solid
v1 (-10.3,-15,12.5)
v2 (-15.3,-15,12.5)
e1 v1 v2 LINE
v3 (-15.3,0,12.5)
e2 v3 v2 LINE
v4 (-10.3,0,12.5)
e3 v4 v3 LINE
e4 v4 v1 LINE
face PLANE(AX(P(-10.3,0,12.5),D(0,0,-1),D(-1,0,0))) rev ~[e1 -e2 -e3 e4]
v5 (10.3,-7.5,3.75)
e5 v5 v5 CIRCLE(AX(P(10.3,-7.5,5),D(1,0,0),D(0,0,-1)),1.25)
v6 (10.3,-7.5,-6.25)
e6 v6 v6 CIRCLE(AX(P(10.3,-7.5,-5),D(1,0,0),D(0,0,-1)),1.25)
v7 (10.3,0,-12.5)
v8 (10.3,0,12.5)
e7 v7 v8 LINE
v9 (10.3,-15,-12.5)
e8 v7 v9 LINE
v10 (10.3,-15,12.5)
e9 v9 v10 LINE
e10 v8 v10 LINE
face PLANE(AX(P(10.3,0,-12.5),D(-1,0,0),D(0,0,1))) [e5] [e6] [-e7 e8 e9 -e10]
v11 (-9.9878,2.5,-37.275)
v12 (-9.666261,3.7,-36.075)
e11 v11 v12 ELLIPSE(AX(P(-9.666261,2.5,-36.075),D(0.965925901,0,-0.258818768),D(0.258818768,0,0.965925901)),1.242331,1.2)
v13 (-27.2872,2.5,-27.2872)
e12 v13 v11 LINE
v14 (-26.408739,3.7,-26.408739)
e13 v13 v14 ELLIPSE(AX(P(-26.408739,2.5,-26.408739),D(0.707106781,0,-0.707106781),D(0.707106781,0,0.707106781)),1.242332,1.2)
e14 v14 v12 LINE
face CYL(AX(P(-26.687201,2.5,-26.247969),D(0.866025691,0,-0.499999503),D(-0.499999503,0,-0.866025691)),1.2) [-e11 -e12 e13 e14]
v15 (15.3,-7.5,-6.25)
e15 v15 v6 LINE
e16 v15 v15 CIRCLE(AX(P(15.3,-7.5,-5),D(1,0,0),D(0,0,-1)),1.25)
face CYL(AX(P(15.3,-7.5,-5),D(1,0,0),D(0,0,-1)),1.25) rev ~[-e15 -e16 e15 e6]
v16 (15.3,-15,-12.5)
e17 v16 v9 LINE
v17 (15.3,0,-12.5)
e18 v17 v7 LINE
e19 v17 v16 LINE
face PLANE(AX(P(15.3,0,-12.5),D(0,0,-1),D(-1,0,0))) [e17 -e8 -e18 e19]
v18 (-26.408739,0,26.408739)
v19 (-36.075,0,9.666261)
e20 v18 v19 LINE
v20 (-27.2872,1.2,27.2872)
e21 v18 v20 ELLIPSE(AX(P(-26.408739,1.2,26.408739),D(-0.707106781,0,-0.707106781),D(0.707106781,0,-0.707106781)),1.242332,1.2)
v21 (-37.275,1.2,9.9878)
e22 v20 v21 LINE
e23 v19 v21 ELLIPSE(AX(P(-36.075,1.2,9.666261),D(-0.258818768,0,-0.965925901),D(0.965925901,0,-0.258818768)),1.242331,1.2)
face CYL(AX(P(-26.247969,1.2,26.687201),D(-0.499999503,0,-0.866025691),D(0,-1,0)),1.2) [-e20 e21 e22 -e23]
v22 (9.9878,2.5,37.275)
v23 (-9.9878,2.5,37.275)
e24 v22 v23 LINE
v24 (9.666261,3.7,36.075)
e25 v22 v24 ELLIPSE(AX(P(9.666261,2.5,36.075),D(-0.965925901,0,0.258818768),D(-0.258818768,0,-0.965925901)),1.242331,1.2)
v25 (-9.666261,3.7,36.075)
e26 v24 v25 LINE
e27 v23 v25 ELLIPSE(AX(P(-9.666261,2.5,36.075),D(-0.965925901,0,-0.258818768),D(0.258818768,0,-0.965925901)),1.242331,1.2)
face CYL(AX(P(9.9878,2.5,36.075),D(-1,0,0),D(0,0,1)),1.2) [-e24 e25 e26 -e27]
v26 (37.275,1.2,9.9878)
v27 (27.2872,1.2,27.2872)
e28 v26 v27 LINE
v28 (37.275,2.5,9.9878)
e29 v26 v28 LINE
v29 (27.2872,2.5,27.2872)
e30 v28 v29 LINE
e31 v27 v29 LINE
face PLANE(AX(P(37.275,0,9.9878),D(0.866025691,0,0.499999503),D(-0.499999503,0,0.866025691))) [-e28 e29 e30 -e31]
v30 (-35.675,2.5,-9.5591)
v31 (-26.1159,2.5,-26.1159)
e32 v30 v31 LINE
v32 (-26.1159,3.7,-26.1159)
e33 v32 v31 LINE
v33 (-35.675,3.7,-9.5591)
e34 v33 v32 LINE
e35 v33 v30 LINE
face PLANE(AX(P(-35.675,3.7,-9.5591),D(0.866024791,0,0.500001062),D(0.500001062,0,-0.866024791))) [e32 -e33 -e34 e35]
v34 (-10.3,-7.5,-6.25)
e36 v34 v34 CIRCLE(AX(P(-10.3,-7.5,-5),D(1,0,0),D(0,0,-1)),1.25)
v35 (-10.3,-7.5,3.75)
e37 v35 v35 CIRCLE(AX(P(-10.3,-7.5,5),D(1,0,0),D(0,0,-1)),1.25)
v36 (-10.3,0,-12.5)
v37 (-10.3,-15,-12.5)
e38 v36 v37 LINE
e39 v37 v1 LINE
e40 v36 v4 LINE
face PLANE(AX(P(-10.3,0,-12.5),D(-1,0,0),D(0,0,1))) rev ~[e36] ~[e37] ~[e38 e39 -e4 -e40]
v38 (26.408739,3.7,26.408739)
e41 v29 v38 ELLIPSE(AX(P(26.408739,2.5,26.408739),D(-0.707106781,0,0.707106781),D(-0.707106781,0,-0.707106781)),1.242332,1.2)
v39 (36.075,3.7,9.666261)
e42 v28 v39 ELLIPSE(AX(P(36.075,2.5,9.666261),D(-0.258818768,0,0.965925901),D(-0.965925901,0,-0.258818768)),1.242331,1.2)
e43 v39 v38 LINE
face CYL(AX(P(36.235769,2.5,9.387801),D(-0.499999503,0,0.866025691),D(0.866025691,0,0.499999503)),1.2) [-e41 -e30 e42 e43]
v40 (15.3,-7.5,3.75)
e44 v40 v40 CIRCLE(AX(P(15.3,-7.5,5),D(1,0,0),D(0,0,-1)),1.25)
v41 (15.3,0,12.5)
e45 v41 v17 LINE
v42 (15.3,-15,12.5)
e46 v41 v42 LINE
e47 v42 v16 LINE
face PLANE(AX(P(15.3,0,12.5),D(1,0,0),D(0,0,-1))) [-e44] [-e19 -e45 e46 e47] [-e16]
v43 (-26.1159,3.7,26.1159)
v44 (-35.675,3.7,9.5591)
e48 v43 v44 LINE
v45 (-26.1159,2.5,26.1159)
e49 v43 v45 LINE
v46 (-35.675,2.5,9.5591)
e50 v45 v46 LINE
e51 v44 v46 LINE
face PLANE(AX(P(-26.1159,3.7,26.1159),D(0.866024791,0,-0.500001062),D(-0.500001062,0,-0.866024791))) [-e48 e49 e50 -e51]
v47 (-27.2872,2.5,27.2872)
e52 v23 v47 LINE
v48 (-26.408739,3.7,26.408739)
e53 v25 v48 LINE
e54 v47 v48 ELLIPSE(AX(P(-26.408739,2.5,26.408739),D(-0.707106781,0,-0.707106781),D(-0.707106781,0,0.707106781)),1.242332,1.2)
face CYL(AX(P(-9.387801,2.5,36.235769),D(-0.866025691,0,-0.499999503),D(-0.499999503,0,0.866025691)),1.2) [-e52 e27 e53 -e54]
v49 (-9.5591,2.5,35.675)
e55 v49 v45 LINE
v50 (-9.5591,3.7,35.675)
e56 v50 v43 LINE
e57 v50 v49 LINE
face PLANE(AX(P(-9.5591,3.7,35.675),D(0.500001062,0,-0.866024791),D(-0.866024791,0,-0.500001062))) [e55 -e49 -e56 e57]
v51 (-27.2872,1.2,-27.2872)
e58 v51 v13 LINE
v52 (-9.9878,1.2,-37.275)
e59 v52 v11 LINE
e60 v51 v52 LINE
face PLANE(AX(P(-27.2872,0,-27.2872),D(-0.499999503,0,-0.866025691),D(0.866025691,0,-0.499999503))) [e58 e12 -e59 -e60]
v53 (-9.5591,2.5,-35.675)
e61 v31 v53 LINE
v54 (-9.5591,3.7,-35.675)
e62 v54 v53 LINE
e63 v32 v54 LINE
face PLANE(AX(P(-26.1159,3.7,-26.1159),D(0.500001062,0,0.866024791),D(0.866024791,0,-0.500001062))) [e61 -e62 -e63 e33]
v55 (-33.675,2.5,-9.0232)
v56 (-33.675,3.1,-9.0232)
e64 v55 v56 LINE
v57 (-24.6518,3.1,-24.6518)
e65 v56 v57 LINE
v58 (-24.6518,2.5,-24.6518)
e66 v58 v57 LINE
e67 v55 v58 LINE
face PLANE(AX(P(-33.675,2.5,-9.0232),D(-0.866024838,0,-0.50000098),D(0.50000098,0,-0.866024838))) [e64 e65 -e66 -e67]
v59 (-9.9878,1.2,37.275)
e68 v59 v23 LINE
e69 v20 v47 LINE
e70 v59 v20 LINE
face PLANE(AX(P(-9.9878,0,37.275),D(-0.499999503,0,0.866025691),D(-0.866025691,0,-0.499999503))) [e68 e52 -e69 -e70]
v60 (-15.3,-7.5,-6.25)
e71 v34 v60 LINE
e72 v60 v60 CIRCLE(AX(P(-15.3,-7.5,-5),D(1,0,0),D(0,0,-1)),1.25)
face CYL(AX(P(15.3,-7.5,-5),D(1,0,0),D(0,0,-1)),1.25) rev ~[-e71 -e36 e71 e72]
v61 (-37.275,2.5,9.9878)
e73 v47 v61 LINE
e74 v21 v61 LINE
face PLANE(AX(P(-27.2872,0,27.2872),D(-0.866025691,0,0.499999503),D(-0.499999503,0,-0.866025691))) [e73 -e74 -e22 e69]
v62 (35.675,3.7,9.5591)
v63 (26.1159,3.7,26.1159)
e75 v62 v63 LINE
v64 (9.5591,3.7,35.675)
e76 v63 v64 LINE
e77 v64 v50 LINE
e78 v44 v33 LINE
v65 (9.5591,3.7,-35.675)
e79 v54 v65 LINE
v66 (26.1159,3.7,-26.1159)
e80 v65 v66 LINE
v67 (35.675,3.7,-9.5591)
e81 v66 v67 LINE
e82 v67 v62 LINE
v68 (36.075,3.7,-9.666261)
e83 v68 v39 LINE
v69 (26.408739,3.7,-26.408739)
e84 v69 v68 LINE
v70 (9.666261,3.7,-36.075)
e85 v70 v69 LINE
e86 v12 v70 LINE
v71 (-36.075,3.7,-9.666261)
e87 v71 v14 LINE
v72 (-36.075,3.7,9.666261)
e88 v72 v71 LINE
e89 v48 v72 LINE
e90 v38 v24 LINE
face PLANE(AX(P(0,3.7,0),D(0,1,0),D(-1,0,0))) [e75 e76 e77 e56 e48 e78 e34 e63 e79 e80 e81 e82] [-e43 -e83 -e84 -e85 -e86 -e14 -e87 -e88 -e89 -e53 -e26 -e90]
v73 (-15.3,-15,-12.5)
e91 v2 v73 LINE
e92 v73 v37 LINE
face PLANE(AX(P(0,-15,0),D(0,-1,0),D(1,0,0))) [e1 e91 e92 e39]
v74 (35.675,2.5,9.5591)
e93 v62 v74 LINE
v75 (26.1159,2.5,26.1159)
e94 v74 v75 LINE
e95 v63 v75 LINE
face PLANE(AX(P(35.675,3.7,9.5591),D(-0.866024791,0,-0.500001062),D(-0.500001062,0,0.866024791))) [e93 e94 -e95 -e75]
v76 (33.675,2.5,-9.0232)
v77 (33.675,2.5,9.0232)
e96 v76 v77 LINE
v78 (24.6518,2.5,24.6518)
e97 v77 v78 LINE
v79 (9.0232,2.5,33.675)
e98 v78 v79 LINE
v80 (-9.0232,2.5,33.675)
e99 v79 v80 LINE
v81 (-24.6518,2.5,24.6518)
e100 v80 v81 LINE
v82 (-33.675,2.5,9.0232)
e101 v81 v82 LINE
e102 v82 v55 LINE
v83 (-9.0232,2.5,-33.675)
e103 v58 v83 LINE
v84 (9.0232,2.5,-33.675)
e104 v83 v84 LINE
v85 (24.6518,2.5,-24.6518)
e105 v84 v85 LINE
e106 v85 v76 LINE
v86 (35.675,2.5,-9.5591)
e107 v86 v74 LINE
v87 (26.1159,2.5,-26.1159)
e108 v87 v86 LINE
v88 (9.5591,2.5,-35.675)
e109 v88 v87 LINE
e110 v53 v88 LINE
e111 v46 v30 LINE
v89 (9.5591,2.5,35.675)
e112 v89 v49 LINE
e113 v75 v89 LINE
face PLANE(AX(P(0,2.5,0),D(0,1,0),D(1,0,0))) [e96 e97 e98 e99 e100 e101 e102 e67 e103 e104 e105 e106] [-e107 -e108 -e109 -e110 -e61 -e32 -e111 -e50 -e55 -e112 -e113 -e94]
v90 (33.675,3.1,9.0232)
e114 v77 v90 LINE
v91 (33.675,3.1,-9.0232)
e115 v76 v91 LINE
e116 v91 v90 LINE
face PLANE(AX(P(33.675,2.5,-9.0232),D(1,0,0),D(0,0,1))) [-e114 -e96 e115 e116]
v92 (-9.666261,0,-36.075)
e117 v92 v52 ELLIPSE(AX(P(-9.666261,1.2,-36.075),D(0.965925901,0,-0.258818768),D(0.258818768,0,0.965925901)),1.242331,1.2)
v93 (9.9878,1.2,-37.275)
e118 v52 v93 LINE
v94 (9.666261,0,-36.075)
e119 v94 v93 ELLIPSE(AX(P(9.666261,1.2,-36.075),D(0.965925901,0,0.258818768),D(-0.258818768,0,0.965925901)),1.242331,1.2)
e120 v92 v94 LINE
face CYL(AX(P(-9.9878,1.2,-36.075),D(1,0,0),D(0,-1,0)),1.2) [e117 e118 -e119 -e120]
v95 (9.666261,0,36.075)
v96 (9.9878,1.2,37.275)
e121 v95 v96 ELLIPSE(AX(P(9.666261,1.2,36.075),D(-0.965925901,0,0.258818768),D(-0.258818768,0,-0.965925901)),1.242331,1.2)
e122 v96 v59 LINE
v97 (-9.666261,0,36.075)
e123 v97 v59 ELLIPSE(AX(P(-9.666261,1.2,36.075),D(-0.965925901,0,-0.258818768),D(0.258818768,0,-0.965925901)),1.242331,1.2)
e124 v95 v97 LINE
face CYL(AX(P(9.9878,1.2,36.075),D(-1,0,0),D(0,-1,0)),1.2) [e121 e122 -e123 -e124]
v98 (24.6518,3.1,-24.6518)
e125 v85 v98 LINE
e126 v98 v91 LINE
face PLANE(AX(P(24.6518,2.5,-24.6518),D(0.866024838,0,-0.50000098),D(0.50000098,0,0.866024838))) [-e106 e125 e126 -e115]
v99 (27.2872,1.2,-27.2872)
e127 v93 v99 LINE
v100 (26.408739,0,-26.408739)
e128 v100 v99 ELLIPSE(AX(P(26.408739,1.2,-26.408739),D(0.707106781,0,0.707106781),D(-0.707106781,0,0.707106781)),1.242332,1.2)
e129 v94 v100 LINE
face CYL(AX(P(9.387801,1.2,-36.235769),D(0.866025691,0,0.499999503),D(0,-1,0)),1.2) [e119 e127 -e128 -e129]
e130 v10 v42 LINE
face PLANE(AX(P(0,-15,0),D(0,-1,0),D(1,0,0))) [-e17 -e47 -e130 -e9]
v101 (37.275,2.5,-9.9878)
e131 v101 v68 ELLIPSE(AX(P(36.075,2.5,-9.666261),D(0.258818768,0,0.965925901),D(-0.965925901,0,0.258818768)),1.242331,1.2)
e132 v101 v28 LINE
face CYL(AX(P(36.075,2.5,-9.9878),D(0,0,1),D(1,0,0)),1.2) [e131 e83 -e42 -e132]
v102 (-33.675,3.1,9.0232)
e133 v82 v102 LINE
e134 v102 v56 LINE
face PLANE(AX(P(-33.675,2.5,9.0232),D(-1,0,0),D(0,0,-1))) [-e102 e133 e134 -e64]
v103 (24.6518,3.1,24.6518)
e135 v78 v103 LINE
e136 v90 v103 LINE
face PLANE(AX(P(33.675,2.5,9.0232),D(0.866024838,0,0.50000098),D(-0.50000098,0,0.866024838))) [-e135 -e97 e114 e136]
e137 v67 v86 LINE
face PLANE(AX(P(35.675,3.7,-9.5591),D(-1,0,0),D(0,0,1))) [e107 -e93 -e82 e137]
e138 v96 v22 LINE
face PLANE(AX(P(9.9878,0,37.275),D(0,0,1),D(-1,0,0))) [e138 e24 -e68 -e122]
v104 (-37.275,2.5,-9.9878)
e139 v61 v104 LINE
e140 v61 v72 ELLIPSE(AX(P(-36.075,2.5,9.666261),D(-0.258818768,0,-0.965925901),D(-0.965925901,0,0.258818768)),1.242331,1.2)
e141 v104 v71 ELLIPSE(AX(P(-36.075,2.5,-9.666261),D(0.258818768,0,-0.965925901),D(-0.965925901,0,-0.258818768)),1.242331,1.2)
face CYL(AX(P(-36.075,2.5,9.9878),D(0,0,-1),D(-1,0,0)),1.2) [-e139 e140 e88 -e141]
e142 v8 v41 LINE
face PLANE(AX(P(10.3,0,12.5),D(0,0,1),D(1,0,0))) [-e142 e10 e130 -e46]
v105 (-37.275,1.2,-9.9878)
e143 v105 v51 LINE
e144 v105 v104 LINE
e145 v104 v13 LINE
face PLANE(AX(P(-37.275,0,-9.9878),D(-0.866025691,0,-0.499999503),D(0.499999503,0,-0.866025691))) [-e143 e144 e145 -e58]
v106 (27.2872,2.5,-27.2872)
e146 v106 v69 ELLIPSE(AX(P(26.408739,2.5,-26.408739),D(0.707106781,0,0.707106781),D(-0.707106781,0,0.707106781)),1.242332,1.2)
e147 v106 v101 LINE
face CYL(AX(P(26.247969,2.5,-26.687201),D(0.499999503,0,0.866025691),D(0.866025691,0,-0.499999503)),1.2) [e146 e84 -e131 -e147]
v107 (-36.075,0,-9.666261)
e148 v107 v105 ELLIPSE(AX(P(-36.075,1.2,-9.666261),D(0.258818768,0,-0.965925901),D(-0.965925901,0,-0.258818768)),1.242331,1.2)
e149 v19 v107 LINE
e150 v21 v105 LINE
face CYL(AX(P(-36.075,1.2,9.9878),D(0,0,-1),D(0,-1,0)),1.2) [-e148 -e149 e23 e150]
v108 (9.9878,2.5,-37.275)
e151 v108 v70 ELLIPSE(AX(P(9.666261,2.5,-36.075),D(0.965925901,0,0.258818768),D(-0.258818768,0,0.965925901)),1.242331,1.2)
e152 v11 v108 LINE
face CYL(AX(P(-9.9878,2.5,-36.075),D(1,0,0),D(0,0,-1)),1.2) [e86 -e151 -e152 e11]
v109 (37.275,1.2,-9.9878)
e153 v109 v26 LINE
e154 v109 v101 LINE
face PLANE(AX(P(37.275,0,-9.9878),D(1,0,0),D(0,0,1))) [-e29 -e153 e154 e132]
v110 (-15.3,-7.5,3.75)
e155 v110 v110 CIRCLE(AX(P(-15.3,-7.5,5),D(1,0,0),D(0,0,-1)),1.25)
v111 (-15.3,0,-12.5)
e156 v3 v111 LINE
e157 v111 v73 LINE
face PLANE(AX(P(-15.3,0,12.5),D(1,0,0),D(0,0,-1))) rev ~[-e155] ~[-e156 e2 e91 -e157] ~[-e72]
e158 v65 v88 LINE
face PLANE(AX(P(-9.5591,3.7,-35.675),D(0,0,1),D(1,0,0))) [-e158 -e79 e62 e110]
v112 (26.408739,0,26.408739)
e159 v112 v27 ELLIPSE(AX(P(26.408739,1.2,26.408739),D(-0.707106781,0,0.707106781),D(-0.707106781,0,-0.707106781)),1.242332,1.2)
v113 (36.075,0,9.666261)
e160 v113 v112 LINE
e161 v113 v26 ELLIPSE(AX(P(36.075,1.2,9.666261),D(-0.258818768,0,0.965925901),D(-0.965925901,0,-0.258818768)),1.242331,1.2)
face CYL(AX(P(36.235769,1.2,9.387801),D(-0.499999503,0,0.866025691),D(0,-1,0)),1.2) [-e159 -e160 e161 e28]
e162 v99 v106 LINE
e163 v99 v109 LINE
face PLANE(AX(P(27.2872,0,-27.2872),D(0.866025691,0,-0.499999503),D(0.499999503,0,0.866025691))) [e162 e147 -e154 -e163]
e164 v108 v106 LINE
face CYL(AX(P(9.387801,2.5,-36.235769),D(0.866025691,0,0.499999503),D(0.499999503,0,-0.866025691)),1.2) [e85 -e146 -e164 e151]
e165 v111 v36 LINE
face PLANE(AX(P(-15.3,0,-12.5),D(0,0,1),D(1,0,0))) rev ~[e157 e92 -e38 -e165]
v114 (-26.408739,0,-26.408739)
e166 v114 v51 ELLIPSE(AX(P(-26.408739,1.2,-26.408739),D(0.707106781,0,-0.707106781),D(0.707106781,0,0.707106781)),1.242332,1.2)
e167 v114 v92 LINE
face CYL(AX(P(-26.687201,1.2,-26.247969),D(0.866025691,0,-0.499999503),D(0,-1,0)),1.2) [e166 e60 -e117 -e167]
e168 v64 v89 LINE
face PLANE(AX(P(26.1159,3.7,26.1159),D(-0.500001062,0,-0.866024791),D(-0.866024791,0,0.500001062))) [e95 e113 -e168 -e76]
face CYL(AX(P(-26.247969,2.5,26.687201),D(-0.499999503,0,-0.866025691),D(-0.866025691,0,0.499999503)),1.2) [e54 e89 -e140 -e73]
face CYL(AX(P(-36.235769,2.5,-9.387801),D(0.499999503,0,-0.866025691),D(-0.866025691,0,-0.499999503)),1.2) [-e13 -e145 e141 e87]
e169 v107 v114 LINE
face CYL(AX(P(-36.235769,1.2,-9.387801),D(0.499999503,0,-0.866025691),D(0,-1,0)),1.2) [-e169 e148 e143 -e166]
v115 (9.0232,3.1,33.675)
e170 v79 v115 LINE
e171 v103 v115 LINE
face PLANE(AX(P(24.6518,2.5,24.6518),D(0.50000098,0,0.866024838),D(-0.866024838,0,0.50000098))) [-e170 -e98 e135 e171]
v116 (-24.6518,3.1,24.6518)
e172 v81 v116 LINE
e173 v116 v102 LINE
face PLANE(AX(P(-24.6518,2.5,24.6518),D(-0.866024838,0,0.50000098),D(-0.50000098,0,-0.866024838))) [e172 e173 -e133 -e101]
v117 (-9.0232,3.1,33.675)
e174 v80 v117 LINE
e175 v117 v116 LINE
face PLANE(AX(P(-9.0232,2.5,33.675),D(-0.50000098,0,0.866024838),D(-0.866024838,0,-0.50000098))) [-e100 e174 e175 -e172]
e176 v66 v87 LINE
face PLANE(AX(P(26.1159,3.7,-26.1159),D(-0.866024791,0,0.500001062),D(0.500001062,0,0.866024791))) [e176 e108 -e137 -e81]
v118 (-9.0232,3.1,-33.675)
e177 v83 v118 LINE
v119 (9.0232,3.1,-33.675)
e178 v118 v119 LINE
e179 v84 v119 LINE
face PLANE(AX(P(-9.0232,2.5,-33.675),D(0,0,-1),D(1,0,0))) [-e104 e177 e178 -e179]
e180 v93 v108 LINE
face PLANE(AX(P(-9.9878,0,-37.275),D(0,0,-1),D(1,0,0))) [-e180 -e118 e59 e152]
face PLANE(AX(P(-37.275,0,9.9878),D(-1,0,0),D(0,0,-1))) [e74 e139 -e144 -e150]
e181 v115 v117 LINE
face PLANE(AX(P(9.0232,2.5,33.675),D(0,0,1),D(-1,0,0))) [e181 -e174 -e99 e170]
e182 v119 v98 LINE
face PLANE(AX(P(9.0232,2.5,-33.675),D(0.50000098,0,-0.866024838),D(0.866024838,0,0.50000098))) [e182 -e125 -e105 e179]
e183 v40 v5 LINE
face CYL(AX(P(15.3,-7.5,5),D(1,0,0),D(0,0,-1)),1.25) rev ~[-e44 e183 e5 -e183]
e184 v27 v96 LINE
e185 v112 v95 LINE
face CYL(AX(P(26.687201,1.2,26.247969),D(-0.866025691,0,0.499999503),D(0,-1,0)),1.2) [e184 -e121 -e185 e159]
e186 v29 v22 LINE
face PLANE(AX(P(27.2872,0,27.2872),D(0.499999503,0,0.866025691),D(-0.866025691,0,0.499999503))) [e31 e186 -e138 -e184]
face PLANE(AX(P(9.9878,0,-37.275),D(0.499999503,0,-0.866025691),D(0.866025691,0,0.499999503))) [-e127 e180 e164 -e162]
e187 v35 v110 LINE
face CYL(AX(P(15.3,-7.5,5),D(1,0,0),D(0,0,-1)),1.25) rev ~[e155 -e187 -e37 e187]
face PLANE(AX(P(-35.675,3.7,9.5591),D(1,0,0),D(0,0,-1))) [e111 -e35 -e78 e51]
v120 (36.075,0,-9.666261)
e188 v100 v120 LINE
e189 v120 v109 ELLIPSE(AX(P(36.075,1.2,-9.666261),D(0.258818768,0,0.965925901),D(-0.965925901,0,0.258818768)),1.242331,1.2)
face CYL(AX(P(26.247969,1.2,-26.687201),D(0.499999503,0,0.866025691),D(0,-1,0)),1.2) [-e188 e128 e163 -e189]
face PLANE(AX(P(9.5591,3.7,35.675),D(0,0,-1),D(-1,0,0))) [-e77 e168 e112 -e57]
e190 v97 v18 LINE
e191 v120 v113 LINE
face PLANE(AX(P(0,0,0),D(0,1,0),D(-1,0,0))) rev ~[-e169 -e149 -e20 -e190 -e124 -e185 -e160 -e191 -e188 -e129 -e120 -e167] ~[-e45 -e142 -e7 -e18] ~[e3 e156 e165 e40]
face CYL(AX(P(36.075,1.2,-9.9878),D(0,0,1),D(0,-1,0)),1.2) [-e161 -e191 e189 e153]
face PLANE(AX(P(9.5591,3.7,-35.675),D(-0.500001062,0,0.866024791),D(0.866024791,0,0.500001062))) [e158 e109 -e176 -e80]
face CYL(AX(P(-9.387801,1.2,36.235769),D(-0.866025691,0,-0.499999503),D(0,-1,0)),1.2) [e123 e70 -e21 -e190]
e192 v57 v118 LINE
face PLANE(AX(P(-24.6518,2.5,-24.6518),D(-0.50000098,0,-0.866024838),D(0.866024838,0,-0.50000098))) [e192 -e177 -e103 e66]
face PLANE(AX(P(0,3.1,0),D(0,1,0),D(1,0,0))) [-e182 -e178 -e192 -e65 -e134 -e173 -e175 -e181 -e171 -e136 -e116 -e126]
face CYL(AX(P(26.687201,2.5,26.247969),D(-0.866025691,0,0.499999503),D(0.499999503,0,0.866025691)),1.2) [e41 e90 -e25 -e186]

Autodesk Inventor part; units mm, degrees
ref_plane "YZ Plane" through (0, 0, 0) normal (1, 0, 0) x (0, 1, 0)
ref_plane "XZ Plane" through (0, 0, 0) normal (0, 1, 0) x (-1, 0, 0)
ref_plane "XY Plane" through (0, 0, 0) normal (0, 0, 1) x (1, 0, 0)
sketch "스케치1" plane through (0, 0, 0) normal (0, 1, 0) x (-1, 0, 0)
  line L0 (24.9446, -24.9446) -> (9.1304, -34.075)
  line L1 (9.1304, -34.075) -> (-9.1304, -34.075)
  line L2 (-9.1304, -34.075) -> (-24.9446, -24.9446)
  line L3 (-24.9446, -24.9446) -> (-34.075, -9.1304)
  line L4 (-34.075, -9.1304) -> (-34.075, 9.1304)
  line L5 (-34.075, 9.1304) -> (-24.9446, 24.9446)
  line L6 (-24.9446, 24.9446) -> (-9.1304, 34.075)
  line L7 (-9.1304, 34.075) -> (9.1304, 34.075)
  line L8 (9.1304, 34.075) -> (24.9446, 24.9446)
  line L9 (24.9446, 24.9446) -> (34.075, 9.1304)
  line L10 (34.075, 9.1304) -> (34.075, -9.1304)
  line L11 (34.075, -9.1304) -> (24.9446, -24.9446)
  line L12 (9.9878, -37.275) -> (-9.9878, -37.275)
  line L13 (-9.9878, -37.275) -> (-27.2872, -27.2872)
  line L14 (-27.2872, -27.2872) -> (-37.275, -9.9878)
  line L15 (-37.275, -9.9878) -> (-37.275, 9.9878)
  line L16 (-37.275, 9.9878) -> (-27.2872, 27.2872)
  line L17 (-27.2872, 27.2872) -> (-9.9878, 37.275)
  line L18 (-9.9878, 37.275) -> (9.9878, 37.275)
  line L19 (9.9878, 37.275) -> (27.2872, 27.2872)
  line L20 (27.2872, 27.2872) -> (37.275, 9.9878)
  line L21 (37.275, 9.9878) -> (37.275, -9.9878)
  line L22 (37.275, -9.9878) -> (27.2872, -27.2872)
  line L23 (27.2872, -27.2872) -> (9.9878, -37.275)
  point P0 (0, 0)
  point P1 (0, 0)
  point P2 (0, 0)
  dimension "d0" = 70.554
  dimension "d1" = 3.2
extrude "돌출1" add sketch "스케치1" along normal blind 3.7 contours L0 L1 L2 L3 L4 L5 L6 L7 L8 L9 L10 L11 | L12 L13 L14 L15 L16 L17 L18 L19 L20 L21 L22 L23
sketch "스케치2" plane through (0, 3.7, 0) normal (0, 1, 0) x (1, 0, 0)
  line L0 (-9.5591, 35.675) -> (9.5591, 35.675)
  line L1 (9.5591, 35.675) -> (26.1159, 26.1159)
  line L2 (26.1159, 26.1159) -> (35.675, 9.5591)
  line L3 (35.675, 9.5591) -> (35.675, -9.5591)
  line L4 (35.675, -9.5591) -> (26.1159, -26.1159)
  line L5 (26.1159, -26.1159) -> (9.5591, -35.675)
  line L6 (9.5591, -35.675) -> (-9.5591, -35.675)
  line L7 (-9.5591, -35.675) -> (-26.1159, -26.1159)
  line L8 (-26.1159, -26.1159) -> (-35.675, -9.5591)
  line L9 (-35.675, -9.5591) -> (-35.675, 9.5591)
  line L10 (-35.675, 9.5591) -> (-26.1159, 26.1159)
  line L11 (-26.1159, 26.1159) -> (-9.5591, 35.675)
  line L12 (9.9878, 37.275) -> (-9.9878, 37.275) projected
  point P0 (0, 0)
  point P1 (0, 0)
  point P2 (0, 35.675)
  dimension "d4" = 1.6
extrude "돌출2" cut sketch "스케치2" against normal blind 1.2
sketch "스케치3" plane through (0, 2.5, 0) normal (0, 1, 0) x (1, 0, 0)
  line L0 (-9.0232, 33.675) -> (9.0232, 33.675)
  line L1 (9.0232, 33.675) -> (24.6518, 24.6518)
  line L2 (24.6518, 24.6518) -> (33.675, 9.0232)
  line L3 (33.675, 9.0232) -> (33.675, -9.0232)
  line L4 (33.675, -9.0232) -> (24.6518, -24.6518)
  line L5 (24.6518, -24.6518) -> (9.0232, -33.675)
  line L6 (9.0232, -33.675) -> (-9.0232, -33.675)
  line L7 (-9.0232, -33.675) -> (-24.6518, -24.6518)
  line L8 (-24.6518, -24.6518) -> (-33.675, -9.0232)
  line L9 (-33.675, -9.0232) -> (-33.675, 9.0232)
  line L10 (-33.675, 9.0232) -> (-24.6518, 24.6518)
  line L11 (-24.6518, 24.6518) -> (-9.0232, 33.675)
  line L12 (-9.5591, 35.675) -> (9.5591, 35.675) projected
  point P0 (0, 0)
  point P1 (0, 0)
  dimension "d7" = 2
extrude "돌출3" add sketch "스케치3" along normal blind 0.6
fillet "모깎기1" radius 1.2 24 edges at (-18.6375, 3.7, 32.2811) (-32.2811, 3.7, 18.6375) (-37.275, 3.7, 0) (0, 3.7, 37.275) (18.6375, 3.7, 32.2811) (32.2811, 3.7, 18.6375) (37.275, 3.7, 0) (32.2811, 3.7, -18.6375) (18.6375, 3.7, -32.2811) (0, 3.7, -37.275) (-18.6375, 3.7, -32.2811) (-32.2811, 3.7, -18.6375) (-37.275, 0, 0) (-32.2811, 0, 18.6375) (-18.6375, 0, 32.2811) (0, 0, 37.275) (18.6375, 0, 32.2811) (32.2811, 0, 18.6375) (37.275, 0, 0) (32.2811, 0, -18.6375) (18.6375, 0, -32.2811) (0, 0, -37.275) (-18.6375, 0, -32.2811) (-32.2811, 0, -18.6375)
sketch "스케치10" plane through (0, 0, 0) normal (0, -1, 0) x (1, 0, 0)
  line L0 (10.3, 12.5) -> (15.3, 12.5)
  line L1 (15.3, 12.5) -> (15.3, -12.5)
  line L2 (15.3, -12.5) -> (10.3, -12.5)
  line L3 (10.3, -12.5) -> (10.3, 12.5)
  line L4 (10.3, 12.5) -> (15.3, -12.5) construction
  line L5 (15.3, 12.5) -> (10.3, -12.5) construction
  line L6 (0, 0) -> (0, -4.638)
  line L7 (-10.3, 12.5) -> (-15.3, 12.5)
  line L8 (-15.3, 12.5) -> (-15.3, -12.5)
  line L9 (-15.3, -12.5) -> (-10.3, -12.5)
  line L10 (-10.3, -12.5) -> (-10.3, 12.5)
  line L11 (-10.3, 12.5) -> (-15.3, -12.5) construction
  line L12 (-15.3, 12.5) -> (-10.3, -12.5) construction
  point P0 (12.8, 0)
  point P1 (-12.8, 0)
  dimension "d50" = 5
  dimension "d51" = 25
  dimension "d52" = 10.3
extrude "돌출7" add sketch "스케치10" along normal blind 15
sketch "스케치11" plane through (15.3, 0, 12.5) normal (1, 0, 0) x (0, 0, -1)
  circle A0 centre (7.5, -7.5) radius 1.25
  line L0 (2.8337, 0) -> (22.1663, 0) projected
  line L1 (12.5, 0) -> (12.5, -3.2899)
  circle A1 centre (17.5, -7.5) radius 1.25
  point P0 (12.5, 0)
  dimension "d55" = 2.5
  dimension "d56" = 7.5
  dimension "d57" = 5
extrude "돌출8" cut sketch "스케치11" against normal up to surface (30.6 mm away)
equation "\"d38\" = 55deg"
properties part number "OV-PAM_n_12_bottom"
